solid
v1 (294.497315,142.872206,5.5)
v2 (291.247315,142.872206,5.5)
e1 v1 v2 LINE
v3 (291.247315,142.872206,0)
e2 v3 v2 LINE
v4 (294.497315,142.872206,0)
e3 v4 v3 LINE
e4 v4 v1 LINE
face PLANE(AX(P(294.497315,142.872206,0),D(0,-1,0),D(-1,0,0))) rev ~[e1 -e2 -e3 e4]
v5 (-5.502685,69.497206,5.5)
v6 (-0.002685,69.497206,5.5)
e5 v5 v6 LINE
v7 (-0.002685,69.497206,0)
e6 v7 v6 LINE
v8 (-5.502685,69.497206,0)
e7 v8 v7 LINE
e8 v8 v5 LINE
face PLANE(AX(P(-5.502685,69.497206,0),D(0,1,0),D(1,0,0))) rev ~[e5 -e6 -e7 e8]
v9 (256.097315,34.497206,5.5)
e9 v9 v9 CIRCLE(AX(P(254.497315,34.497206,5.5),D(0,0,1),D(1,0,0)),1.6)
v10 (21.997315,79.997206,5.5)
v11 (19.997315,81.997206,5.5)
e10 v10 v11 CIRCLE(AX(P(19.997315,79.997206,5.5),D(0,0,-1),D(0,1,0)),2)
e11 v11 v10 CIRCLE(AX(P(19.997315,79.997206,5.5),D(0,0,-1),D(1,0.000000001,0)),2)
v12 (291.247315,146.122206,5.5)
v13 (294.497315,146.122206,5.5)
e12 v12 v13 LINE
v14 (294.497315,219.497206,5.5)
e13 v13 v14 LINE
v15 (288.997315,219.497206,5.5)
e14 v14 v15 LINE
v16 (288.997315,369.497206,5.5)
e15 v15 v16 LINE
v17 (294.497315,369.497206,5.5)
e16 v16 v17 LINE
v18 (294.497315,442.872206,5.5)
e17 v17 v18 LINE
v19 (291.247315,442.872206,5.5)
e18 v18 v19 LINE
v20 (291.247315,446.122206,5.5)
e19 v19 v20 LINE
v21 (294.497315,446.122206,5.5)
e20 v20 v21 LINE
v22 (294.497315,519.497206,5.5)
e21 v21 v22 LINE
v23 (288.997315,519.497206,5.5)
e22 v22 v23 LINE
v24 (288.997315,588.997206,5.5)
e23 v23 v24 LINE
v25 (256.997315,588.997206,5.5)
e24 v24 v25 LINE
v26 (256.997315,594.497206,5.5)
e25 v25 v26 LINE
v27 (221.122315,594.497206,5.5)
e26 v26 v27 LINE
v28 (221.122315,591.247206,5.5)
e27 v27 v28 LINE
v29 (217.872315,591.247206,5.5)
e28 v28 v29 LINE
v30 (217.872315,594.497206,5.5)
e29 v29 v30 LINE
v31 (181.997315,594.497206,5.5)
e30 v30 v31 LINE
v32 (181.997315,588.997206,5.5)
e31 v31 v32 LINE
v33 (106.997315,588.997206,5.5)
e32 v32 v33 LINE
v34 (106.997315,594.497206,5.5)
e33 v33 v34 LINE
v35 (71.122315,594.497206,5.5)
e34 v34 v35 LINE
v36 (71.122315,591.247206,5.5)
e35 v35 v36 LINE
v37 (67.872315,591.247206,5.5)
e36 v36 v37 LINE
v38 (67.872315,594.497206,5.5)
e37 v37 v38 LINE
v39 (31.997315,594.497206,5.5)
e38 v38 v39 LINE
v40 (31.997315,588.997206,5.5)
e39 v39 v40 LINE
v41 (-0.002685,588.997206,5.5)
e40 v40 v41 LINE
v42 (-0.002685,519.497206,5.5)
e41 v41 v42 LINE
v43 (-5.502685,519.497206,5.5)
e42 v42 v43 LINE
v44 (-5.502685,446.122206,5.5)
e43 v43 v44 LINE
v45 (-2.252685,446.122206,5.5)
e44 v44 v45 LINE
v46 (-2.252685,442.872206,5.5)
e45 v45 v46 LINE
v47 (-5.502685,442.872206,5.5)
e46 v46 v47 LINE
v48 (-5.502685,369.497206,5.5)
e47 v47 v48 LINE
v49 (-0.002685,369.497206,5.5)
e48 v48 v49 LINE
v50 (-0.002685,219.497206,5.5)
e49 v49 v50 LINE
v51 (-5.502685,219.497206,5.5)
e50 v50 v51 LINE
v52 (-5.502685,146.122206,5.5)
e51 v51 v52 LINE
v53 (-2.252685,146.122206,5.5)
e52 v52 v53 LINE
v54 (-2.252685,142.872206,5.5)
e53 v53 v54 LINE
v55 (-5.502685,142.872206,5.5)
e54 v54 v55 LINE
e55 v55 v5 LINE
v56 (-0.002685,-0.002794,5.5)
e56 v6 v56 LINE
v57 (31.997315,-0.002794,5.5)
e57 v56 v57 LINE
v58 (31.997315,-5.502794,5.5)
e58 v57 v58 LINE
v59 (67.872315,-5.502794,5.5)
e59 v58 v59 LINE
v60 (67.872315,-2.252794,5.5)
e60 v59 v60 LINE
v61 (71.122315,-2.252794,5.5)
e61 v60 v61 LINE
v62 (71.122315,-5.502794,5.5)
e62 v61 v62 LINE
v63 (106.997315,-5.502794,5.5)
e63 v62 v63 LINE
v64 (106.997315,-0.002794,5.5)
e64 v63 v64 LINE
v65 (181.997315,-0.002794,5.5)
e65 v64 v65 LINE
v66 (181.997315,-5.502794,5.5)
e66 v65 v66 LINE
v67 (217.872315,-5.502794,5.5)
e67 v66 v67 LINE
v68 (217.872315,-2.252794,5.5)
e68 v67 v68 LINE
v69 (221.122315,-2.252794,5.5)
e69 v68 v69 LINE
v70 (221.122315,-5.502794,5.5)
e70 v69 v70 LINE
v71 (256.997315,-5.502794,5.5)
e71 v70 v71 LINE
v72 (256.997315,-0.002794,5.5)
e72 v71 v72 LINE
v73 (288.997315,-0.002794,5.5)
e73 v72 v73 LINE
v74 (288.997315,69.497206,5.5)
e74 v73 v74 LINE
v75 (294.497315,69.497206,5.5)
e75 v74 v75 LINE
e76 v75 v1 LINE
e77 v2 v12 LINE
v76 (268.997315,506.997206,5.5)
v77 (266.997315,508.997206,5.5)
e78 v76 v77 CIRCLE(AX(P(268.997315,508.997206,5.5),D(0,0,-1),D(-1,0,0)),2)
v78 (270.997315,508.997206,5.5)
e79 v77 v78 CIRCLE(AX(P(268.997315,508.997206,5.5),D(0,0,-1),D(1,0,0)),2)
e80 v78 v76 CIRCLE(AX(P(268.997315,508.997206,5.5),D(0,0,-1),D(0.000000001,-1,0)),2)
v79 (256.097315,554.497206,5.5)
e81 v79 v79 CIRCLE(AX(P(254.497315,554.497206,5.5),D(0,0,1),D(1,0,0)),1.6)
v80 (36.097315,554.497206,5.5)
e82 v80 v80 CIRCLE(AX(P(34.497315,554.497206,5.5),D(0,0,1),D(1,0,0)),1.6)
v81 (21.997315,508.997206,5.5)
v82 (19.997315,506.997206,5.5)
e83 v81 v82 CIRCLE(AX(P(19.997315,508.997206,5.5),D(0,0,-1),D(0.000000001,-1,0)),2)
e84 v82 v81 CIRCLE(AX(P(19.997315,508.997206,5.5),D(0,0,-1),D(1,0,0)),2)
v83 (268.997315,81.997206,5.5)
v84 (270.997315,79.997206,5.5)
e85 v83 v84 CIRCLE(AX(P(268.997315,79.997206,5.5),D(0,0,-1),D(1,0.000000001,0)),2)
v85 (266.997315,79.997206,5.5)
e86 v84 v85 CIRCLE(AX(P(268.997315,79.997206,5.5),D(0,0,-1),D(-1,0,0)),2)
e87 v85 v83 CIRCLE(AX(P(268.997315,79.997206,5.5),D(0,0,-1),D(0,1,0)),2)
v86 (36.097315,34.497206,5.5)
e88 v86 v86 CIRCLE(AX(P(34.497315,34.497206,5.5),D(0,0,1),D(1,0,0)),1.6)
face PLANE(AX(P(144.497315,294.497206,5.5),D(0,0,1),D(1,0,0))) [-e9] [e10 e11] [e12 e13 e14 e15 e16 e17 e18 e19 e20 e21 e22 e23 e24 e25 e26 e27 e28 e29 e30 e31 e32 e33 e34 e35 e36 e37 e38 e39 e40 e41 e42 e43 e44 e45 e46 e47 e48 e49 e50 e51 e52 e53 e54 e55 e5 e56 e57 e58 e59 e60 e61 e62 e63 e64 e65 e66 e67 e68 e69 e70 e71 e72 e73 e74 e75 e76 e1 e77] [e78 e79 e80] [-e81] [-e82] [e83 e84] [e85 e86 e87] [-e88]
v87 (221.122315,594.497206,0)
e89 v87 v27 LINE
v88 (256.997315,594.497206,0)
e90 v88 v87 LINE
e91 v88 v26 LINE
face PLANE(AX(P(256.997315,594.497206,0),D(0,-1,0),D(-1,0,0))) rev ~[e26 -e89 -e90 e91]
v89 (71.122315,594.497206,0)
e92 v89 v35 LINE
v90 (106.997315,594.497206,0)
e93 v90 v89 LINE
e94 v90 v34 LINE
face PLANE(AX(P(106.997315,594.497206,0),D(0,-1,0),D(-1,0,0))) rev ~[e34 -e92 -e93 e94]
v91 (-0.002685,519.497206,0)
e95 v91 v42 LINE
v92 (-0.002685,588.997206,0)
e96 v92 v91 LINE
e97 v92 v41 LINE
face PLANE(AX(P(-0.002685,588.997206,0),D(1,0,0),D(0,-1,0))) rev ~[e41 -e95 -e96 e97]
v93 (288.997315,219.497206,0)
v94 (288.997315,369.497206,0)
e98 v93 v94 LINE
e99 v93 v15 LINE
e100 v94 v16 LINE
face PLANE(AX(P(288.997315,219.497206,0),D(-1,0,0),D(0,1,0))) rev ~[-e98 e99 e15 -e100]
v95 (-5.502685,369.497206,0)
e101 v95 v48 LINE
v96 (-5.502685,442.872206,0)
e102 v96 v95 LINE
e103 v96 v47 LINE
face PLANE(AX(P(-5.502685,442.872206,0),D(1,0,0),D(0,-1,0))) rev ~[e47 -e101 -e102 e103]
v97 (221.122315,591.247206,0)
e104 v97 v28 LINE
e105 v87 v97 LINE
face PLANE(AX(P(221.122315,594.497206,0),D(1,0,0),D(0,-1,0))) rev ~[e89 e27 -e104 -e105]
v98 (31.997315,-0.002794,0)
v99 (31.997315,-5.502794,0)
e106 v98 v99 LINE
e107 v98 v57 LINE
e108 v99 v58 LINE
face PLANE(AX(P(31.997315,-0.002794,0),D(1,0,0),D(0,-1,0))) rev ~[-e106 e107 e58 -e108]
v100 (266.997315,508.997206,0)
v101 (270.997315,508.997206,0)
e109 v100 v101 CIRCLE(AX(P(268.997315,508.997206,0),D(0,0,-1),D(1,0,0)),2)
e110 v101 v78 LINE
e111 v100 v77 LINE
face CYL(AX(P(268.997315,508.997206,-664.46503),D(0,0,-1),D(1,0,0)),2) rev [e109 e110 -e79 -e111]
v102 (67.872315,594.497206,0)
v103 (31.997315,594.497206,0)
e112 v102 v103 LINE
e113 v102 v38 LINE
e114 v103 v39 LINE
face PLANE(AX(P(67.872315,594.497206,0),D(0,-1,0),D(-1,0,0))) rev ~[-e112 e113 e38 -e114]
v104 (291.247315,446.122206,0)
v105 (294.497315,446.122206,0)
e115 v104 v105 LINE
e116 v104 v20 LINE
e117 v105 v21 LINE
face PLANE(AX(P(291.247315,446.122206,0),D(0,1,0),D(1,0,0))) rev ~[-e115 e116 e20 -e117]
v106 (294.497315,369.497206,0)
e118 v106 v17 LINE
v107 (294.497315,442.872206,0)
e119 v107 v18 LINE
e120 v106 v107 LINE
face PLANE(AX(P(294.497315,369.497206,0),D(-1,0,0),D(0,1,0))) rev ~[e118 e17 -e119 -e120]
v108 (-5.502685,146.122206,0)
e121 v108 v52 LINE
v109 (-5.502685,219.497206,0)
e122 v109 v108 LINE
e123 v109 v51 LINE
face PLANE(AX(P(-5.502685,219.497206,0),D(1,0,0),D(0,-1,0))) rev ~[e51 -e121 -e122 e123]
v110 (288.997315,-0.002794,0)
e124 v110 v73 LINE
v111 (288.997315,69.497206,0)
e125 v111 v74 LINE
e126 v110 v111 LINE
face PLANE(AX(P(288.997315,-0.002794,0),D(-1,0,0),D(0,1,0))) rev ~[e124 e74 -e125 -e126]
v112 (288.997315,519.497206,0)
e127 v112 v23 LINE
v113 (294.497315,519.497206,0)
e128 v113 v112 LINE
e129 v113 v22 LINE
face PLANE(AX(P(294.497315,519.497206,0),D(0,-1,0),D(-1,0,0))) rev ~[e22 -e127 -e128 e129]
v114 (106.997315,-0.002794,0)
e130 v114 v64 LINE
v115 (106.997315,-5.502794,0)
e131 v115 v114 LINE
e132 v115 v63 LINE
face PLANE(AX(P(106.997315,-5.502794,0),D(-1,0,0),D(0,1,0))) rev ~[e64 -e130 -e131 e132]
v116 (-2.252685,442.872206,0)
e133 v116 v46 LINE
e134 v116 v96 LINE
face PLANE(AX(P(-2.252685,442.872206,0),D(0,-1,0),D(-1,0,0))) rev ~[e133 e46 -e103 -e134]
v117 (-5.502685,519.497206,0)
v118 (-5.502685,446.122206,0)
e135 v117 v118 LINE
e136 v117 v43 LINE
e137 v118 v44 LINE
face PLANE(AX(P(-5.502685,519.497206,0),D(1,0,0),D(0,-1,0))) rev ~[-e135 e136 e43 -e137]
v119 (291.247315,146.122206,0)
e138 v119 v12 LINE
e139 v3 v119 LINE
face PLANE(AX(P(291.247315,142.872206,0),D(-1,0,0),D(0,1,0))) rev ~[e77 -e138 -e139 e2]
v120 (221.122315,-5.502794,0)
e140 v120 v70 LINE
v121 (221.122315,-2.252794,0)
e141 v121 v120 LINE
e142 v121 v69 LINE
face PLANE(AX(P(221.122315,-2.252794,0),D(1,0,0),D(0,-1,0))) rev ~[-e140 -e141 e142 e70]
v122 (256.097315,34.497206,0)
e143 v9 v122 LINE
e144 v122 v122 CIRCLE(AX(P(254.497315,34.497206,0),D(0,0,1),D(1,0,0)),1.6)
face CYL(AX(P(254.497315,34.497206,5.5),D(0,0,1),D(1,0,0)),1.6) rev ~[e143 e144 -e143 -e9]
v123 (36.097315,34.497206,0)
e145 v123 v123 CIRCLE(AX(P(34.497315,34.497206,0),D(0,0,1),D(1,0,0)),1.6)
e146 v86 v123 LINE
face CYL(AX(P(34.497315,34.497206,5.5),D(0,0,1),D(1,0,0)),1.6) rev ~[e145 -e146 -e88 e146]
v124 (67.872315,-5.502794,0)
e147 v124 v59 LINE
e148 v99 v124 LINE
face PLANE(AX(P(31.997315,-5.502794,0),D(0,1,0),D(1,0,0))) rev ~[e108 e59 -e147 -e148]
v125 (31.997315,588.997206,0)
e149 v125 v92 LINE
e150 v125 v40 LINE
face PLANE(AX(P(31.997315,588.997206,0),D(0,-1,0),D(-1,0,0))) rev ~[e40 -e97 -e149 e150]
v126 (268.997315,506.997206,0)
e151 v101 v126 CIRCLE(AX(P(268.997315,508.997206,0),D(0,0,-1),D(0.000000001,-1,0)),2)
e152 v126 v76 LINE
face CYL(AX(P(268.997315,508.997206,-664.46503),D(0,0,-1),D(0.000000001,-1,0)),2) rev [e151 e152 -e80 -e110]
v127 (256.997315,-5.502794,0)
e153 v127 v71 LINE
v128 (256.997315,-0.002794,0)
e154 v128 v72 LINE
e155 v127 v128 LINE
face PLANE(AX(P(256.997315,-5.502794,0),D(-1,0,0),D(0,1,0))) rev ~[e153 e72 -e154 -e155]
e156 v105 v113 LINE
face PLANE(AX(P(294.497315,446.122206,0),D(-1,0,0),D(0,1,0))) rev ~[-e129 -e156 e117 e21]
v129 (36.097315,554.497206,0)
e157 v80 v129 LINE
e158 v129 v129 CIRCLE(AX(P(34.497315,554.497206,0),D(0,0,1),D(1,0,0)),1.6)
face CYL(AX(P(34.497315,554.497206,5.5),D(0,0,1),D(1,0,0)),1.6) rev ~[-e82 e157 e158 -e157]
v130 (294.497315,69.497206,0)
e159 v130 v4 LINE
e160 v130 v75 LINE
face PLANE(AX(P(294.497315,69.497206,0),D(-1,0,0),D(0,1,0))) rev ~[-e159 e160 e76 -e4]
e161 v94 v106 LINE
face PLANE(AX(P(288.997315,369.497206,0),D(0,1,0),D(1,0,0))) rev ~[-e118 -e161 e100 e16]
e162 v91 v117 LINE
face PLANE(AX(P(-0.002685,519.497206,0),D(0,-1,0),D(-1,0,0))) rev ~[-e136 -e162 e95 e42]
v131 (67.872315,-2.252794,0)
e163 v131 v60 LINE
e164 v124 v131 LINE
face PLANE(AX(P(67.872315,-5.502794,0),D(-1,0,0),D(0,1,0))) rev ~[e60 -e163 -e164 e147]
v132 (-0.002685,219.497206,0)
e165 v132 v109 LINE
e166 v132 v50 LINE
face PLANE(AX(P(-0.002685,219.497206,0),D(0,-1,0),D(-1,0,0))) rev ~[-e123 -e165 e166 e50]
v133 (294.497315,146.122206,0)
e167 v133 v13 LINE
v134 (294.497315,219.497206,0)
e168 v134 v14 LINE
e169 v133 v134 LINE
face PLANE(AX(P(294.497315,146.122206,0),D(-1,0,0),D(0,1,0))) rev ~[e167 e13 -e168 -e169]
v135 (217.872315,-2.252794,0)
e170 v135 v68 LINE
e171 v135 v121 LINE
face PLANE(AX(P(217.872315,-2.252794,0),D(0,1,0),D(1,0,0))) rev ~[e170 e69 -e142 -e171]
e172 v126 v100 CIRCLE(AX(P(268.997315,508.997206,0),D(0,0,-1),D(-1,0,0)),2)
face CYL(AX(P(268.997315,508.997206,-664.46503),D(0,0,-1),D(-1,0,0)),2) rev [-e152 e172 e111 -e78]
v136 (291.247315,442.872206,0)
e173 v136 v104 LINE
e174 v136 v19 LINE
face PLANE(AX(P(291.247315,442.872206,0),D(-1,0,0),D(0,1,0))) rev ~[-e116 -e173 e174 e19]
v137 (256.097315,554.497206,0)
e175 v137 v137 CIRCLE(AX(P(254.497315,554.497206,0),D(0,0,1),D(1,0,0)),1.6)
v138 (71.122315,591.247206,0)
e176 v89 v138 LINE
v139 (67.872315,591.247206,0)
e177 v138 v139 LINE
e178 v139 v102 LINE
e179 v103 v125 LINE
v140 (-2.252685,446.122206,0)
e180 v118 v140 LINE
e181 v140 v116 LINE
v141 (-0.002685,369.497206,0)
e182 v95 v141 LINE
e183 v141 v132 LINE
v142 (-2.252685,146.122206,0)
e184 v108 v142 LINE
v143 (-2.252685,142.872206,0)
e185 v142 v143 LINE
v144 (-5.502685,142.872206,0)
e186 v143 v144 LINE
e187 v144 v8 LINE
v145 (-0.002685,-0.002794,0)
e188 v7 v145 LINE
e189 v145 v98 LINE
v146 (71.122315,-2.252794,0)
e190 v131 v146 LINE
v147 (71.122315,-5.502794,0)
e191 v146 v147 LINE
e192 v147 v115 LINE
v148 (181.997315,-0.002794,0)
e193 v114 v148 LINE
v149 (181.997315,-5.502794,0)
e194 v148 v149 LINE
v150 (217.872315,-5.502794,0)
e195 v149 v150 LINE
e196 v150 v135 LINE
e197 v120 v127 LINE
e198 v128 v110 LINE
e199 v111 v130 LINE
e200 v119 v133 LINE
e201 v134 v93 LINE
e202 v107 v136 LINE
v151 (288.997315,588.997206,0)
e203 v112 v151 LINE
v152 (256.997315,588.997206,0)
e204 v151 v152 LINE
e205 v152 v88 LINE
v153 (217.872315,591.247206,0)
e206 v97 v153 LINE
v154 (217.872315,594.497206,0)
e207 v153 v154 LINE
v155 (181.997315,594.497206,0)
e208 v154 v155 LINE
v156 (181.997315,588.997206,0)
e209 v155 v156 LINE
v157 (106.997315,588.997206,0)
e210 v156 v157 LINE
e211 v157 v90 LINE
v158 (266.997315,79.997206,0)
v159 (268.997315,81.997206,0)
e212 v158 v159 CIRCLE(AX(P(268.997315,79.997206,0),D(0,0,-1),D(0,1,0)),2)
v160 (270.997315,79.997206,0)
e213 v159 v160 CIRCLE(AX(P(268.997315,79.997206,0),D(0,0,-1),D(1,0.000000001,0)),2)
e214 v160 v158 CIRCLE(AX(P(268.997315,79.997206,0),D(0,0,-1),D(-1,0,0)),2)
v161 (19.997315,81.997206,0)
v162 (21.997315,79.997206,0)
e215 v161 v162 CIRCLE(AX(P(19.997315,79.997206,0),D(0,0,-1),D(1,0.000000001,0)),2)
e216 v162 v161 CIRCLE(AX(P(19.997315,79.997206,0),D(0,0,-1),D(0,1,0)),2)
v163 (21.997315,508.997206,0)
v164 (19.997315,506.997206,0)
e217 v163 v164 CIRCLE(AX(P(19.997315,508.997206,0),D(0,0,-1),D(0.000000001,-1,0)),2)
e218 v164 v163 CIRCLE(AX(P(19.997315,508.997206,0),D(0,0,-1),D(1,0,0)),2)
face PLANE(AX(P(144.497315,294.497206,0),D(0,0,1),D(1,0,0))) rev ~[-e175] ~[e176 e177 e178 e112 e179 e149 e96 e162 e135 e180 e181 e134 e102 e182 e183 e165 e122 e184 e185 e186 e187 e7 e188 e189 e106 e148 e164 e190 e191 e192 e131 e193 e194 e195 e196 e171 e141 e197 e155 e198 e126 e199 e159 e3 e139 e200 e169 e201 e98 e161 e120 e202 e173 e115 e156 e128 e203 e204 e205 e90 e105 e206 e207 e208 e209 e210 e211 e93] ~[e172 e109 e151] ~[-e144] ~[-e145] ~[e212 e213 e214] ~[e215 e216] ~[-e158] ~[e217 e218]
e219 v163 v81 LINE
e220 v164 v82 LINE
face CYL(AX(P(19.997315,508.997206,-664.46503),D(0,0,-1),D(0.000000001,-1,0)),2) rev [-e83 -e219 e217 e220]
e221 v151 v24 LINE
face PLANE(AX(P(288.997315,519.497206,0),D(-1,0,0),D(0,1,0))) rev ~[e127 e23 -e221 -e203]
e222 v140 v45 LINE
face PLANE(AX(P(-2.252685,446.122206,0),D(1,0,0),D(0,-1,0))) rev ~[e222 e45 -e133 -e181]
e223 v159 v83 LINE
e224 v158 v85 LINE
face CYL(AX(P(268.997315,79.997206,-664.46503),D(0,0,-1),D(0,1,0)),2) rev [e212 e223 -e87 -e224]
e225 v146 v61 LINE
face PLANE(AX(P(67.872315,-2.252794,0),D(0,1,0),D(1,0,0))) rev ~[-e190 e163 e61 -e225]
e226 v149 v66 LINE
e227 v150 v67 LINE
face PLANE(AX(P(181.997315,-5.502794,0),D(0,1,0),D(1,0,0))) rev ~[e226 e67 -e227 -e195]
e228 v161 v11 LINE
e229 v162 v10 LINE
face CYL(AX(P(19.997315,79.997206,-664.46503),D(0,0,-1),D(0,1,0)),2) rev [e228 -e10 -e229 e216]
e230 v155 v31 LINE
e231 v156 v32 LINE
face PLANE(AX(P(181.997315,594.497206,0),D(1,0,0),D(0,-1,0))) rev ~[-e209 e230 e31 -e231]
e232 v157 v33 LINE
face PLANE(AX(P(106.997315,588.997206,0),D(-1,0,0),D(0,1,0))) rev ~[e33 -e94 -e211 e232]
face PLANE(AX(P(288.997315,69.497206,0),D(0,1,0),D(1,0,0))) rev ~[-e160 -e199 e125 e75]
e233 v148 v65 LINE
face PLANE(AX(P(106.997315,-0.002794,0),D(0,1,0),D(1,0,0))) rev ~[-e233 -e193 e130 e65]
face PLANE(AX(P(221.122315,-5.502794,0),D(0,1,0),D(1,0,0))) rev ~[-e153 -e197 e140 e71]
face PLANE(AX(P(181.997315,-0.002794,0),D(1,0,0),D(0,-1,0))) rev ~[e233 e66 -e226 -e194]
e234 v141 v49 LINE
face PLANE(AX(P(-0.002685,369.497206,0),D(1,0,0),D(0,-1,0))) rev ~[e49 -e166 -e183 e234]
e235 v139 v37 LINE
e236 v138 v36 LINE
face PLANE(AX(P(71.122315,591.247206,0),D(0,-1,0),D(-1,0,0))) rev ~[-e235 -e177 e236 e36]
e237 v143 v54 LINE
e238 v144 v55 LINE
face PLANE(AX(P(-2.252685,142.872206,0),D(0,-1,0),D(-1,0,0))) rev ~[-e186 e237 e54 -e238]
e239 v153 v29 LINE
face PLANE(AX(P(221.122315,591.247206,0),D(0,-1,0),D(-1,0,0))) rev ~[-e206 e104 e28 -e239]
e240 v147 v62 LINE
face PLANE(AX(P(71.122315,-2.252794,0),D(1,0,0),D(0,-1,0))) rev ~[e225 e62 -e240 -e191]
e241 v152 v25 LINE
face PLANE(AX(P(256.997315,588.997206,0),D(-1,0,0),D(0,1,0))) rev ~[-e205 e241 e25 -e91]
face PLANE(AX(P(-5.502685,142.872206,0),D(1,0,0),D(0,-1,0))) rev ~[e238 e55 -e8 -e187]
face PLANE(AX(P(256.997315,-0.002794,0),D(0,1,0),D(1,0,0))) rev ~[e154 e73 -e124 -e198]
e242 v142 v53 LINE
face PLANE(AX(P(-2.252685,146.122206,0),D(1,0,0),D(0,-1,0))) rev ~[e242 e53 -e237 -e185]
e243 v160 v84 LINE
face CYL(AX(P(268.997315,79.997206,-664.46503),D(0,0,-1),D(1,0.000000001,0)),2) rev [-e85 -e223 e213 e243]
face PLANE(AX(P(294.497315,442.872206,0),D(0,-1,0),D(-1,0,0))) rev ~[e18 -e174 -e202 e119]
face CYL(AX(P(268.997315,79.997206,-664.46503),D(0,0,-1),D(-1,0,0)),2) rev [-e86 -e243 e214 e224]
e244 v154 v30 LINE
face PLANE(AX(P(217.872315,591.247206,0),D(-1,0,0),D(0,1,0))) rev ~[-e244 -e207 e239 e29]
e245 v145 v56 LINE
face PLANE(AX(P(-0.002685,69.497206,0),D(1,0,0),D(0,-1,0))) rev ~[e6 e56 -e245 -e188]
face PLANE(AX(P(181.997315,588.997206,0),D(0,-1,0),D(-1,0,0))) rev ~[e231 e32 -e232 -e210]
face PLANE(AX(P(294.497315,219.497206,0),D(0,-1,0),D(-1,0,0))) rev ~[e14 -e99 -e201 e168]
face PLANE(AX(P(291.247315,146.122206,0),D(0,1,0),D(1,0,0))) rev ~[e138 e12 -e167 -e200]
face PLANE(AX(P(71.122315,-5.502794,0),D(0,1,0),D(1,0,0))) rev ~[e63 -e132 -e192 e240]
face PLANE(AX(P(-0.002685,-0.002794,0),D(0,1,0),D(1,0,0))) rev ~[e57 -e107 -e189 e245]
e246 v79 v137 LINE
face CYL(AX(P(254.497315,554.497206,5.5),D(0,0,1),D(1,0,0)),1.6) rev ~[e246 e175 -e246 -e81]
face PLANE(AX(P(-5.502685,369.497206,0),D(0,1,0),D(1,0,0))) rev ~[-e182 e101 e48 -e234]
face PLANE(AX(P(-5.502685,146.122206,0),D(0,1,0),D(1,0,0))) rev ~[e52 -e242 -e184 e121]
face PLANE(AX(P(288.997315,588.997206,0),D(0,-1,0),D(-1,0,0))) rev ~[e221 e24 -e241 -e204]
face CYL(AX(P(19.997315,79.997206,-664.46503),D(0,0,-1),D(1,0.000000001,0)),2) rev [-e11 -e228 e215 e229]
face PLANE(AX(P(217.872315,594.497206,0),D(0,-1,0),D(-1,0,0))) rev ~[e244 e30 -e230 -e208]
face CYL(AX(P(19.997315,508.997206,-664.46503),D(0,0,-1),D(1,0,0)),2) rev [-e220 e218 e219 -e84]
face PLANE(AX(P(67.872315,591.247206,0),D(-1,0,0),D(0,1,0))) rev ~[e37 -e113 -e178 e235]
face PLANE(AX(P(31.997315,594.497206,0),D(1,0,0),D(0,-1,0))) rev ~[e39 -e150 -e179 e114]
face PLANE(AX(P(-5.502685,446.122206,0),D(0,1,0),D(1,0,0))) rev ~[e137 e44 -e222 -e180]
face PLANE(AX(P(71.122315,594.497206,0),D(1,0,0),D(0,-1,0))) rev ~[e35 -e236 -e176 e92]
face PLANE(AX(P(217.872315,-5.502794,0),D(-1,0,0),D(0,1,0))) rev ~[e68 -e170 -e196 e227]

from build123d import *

# Parameters (mm, degrees)
BOSS_EXTRUDE1_DEPTH     = 5.5
CUT_EXTRUDE1_DEPTH      = 664.465030112
CUT_EXTRUDE1_DEPTH_BACK = 664.465030112
SKETCH3_R               = 1.6
CUT_EXTRUDE2_DEPTH      = 664.465030112


with BuildPart() as part:
    # Sketch1 → Boss-Extrude1 (new body)
    with BuildSketch(Plane.XY):
        Polygon((-0.002685186, 588.997205838), (-0.002685186, 519.497205838), (-5.502685186, 519.497205838), (-5.502685186, 446.122205838), (-2.252685186, 446.122205838), (-2.252685186, 444.497205838), (-2.252685186, 442.872205838), (-5.502685186, 442.872205838), (-5.502685186, 369.497205838), (-0.002685186, 369.497205838), (-0.002685186, 219.497205838), (-5.502685186, 219.497205838), (-5.502685186, 146.122205838), (-2.252685186, 146.122205838), (-2.252685186, 144.497205838), (-2.252685186, 142.872205838), (-5.502685186, 142.872205838), (-5.502685186, 69.497205838), (-0.002685186, 69.497205838), (-0.002685186, -0.002794162), (31.997314814, -0.002794162), (31.997314814, -5.502794162), (67.872314814, -5.502794162), (67.872314814, -2.252794162), (69.497314814, -2.252794162), (71.122314814, -2.252794162), (71.122314814, -5.502794162), (106.997314814, -5.502794162), (106.997314814, -0.002794162), (181.997314814, -0.002794162), (181.997314814, -5.502794162), (217.872314814, -5.502794162), (217.872314814, -2.252794162), (219.497314814, -2.252794162), (221.122314814, -2.252794162), (221.122314814, -5.502794162), (256.997314814, -5.502794162), (256.997314814, -0.002794162), (288.997314814, -0.002794162), (288.997314814, 69.497205838), (294.497314814, 69.497205838), (294.497314814, 142.872205838), (291.247314814, 142.872205838), (291.247314814, 144.497205838), (291.247314814, 146.122205838), (294.497314814, 146.122205838), (294.497314814, 219.497205838), (288.997314814, 219.497205838), (288.997314814, 369.497205838), (294.497314814, 369.497205838), (294.497314814, 442.872205838), (291.247314814, 442.872205838), (291.247314814, 444.497205838), (291.247314814, 446.122205838), (294.497314814, 446.122205838), (294.497314814, 519.497205838), (288.997314814, 519.497205838), (288.997314814, 588.997205838), (256.997314814, 588.997205838), (256.997314814, 594.497205838), (221.122314814, 594.497205838), (221.122314814, 591.247205838), (219.497314814, 591.247205838), (217.872314814, 591.247205838), (217.872314814, 594.497205838), (181.997314814, 594.497205838), (181.997314814, 588.997205838), (106.997314814, 588.997205838), (106.997314814, 594.497205838), (71.122314814, 594.497205838), (71.122314814, 591.247205838), (69.497314814, 591.247205838), (67.872314814, 591.247205838), (67.872314814, 594.497205838), (31.997314814, 594.497205838), (31.997314814, 588.997205838), align=None)
    extrude(amount=BOSS_EXTRUDE1_DEPTH)

    # Sketch2 → Cut-Extrude1 (cut, two sides: drawn at the far end of the back side and taken through both)
    with BuildSketch(Plane.XY.offset(-CUT_EXTRUDE1_DEPTH_BACK)):
        with BuildLine():
            ThreePointArc((270.997314814, 508.997205838), (268.997314814, 510.997205838), (266.997314814, 508.997205838))
            Line((266.997314814, 508.997205838), (268.997314814, 508.997205838))
            Line((268.997314814, 508.997205838), (268.997314814, 506.997205838))
            ThreePointArc((268.997314814, 506.997205838), (270.411528376, 507.582992276), (270.997314814, 508.997205838))
        make_face()
        with BuildLine():
            Line((268.997314814, 508.997205838), (266.997314814, 508.997205838))
            ThreePointArc((266.997314814, 508.997205838), (267.583101251, 507.582992276), (268.997314814, 506.997205838))
            Line((268.997314814, 506.997205838), (268.997314814, 508.997205838))
        make_face()
        with BuildLine():
            Line((19.997314814, 506.997205838), (19.997314814, 508.997205838))
            Line((19.997314814, 508.997205838), (21.997314814, 508.997205838))
            ThreePointArc((21.997314814, 508.997205838), (18.583101251, 510.4114194), (19.997314814, 506.997205838))
        make_face()
        with BuildLine():
            Line((21.997314814, 508.997205838), (19.997314814, 508.997205838))
            Line((19.997314814, 508.997205838), (19.997314814, 506.997205838))
            ThreePointArc((19.997314814, 506.997205838), (21.411528376, 507.582992276), (21.997314814, 508.997205838))
        make_face()
        with BuildLine():
            ThreePointArc((21.997314814, 79.997205838), (21.411528376, 81.4114194), (19.997314814, 81.997205838))
            Line((19.997314814, 81.997205838), (19.997314814, 79.997205838))
            Line((19.997314814, 79.997205838), (21.997314814, 79.997205838))
        make_face()
        with BuildLine():
            Line((19.997314814, 79.997205838), (19.997314814, 81.997205838))
            ThreePointArc((19.997314814, 81.997205838), (18.583101251, 78.582992276), (21.997314814, 79.997205838))
            Line((21.997314814, 79.997205838), (19.997314814, 79.997205838))
        make_face()
        with BuildLine():
            ThreePointArc((270.997314814, 79.997205838), (270.411528376, 81.4114194), (268.997314814, 81.997205838))
            Line((268.997314814, 81.997205838), (268.997314814, 79.997205838))
            Line((268.997314814, 79.997205838), (266.997314814, 79.997205838))
            ThreePointArc((266.997314814, 79.997205838), (268.997314814, 77.997205838), (270.997314814, 79.997205838))
        make_face()
        with BuildLine():
            Line((268.997314814, 79.997205838), (268.997314814, 81.997205838))
            ThreePointArc((268.997314814, 81.997205838), (267.583101251, 81.4114194), (266.997314814, 79.997205838))
            Line((266.997314814, 79.997205838), (268.997314814, 79.997205838))
        make_face()
    extrude(amount=CUT_EXTRUDE1_DEPTH + CUT_EXTRUDE1_DEPTH_BACK, mode=Mode.SUBTRACT)

    # Sketch3 → Cut-Extrude2 (cut, through all)
    with BuildSketch(Plane.XY.offset(5.5)):
        with Locations((34.497314814, 554.497205838)):
            Circle(SKETCH3_R)
        with Locations((254.497314814, 554.497205838)):
            Circle(SKETCH3_R)
        with Locations((34.497314814, 34.497205838)):
            Circle(SKETCH3_R)
        with Locations((254.497314814, 34.497205838)):
            Circle(SKETCH3_R)
    extrude(amount=-CUT_EXTRUDE2_DEPTH, mode=Mode.SUBTRACT)


solid = part.part
